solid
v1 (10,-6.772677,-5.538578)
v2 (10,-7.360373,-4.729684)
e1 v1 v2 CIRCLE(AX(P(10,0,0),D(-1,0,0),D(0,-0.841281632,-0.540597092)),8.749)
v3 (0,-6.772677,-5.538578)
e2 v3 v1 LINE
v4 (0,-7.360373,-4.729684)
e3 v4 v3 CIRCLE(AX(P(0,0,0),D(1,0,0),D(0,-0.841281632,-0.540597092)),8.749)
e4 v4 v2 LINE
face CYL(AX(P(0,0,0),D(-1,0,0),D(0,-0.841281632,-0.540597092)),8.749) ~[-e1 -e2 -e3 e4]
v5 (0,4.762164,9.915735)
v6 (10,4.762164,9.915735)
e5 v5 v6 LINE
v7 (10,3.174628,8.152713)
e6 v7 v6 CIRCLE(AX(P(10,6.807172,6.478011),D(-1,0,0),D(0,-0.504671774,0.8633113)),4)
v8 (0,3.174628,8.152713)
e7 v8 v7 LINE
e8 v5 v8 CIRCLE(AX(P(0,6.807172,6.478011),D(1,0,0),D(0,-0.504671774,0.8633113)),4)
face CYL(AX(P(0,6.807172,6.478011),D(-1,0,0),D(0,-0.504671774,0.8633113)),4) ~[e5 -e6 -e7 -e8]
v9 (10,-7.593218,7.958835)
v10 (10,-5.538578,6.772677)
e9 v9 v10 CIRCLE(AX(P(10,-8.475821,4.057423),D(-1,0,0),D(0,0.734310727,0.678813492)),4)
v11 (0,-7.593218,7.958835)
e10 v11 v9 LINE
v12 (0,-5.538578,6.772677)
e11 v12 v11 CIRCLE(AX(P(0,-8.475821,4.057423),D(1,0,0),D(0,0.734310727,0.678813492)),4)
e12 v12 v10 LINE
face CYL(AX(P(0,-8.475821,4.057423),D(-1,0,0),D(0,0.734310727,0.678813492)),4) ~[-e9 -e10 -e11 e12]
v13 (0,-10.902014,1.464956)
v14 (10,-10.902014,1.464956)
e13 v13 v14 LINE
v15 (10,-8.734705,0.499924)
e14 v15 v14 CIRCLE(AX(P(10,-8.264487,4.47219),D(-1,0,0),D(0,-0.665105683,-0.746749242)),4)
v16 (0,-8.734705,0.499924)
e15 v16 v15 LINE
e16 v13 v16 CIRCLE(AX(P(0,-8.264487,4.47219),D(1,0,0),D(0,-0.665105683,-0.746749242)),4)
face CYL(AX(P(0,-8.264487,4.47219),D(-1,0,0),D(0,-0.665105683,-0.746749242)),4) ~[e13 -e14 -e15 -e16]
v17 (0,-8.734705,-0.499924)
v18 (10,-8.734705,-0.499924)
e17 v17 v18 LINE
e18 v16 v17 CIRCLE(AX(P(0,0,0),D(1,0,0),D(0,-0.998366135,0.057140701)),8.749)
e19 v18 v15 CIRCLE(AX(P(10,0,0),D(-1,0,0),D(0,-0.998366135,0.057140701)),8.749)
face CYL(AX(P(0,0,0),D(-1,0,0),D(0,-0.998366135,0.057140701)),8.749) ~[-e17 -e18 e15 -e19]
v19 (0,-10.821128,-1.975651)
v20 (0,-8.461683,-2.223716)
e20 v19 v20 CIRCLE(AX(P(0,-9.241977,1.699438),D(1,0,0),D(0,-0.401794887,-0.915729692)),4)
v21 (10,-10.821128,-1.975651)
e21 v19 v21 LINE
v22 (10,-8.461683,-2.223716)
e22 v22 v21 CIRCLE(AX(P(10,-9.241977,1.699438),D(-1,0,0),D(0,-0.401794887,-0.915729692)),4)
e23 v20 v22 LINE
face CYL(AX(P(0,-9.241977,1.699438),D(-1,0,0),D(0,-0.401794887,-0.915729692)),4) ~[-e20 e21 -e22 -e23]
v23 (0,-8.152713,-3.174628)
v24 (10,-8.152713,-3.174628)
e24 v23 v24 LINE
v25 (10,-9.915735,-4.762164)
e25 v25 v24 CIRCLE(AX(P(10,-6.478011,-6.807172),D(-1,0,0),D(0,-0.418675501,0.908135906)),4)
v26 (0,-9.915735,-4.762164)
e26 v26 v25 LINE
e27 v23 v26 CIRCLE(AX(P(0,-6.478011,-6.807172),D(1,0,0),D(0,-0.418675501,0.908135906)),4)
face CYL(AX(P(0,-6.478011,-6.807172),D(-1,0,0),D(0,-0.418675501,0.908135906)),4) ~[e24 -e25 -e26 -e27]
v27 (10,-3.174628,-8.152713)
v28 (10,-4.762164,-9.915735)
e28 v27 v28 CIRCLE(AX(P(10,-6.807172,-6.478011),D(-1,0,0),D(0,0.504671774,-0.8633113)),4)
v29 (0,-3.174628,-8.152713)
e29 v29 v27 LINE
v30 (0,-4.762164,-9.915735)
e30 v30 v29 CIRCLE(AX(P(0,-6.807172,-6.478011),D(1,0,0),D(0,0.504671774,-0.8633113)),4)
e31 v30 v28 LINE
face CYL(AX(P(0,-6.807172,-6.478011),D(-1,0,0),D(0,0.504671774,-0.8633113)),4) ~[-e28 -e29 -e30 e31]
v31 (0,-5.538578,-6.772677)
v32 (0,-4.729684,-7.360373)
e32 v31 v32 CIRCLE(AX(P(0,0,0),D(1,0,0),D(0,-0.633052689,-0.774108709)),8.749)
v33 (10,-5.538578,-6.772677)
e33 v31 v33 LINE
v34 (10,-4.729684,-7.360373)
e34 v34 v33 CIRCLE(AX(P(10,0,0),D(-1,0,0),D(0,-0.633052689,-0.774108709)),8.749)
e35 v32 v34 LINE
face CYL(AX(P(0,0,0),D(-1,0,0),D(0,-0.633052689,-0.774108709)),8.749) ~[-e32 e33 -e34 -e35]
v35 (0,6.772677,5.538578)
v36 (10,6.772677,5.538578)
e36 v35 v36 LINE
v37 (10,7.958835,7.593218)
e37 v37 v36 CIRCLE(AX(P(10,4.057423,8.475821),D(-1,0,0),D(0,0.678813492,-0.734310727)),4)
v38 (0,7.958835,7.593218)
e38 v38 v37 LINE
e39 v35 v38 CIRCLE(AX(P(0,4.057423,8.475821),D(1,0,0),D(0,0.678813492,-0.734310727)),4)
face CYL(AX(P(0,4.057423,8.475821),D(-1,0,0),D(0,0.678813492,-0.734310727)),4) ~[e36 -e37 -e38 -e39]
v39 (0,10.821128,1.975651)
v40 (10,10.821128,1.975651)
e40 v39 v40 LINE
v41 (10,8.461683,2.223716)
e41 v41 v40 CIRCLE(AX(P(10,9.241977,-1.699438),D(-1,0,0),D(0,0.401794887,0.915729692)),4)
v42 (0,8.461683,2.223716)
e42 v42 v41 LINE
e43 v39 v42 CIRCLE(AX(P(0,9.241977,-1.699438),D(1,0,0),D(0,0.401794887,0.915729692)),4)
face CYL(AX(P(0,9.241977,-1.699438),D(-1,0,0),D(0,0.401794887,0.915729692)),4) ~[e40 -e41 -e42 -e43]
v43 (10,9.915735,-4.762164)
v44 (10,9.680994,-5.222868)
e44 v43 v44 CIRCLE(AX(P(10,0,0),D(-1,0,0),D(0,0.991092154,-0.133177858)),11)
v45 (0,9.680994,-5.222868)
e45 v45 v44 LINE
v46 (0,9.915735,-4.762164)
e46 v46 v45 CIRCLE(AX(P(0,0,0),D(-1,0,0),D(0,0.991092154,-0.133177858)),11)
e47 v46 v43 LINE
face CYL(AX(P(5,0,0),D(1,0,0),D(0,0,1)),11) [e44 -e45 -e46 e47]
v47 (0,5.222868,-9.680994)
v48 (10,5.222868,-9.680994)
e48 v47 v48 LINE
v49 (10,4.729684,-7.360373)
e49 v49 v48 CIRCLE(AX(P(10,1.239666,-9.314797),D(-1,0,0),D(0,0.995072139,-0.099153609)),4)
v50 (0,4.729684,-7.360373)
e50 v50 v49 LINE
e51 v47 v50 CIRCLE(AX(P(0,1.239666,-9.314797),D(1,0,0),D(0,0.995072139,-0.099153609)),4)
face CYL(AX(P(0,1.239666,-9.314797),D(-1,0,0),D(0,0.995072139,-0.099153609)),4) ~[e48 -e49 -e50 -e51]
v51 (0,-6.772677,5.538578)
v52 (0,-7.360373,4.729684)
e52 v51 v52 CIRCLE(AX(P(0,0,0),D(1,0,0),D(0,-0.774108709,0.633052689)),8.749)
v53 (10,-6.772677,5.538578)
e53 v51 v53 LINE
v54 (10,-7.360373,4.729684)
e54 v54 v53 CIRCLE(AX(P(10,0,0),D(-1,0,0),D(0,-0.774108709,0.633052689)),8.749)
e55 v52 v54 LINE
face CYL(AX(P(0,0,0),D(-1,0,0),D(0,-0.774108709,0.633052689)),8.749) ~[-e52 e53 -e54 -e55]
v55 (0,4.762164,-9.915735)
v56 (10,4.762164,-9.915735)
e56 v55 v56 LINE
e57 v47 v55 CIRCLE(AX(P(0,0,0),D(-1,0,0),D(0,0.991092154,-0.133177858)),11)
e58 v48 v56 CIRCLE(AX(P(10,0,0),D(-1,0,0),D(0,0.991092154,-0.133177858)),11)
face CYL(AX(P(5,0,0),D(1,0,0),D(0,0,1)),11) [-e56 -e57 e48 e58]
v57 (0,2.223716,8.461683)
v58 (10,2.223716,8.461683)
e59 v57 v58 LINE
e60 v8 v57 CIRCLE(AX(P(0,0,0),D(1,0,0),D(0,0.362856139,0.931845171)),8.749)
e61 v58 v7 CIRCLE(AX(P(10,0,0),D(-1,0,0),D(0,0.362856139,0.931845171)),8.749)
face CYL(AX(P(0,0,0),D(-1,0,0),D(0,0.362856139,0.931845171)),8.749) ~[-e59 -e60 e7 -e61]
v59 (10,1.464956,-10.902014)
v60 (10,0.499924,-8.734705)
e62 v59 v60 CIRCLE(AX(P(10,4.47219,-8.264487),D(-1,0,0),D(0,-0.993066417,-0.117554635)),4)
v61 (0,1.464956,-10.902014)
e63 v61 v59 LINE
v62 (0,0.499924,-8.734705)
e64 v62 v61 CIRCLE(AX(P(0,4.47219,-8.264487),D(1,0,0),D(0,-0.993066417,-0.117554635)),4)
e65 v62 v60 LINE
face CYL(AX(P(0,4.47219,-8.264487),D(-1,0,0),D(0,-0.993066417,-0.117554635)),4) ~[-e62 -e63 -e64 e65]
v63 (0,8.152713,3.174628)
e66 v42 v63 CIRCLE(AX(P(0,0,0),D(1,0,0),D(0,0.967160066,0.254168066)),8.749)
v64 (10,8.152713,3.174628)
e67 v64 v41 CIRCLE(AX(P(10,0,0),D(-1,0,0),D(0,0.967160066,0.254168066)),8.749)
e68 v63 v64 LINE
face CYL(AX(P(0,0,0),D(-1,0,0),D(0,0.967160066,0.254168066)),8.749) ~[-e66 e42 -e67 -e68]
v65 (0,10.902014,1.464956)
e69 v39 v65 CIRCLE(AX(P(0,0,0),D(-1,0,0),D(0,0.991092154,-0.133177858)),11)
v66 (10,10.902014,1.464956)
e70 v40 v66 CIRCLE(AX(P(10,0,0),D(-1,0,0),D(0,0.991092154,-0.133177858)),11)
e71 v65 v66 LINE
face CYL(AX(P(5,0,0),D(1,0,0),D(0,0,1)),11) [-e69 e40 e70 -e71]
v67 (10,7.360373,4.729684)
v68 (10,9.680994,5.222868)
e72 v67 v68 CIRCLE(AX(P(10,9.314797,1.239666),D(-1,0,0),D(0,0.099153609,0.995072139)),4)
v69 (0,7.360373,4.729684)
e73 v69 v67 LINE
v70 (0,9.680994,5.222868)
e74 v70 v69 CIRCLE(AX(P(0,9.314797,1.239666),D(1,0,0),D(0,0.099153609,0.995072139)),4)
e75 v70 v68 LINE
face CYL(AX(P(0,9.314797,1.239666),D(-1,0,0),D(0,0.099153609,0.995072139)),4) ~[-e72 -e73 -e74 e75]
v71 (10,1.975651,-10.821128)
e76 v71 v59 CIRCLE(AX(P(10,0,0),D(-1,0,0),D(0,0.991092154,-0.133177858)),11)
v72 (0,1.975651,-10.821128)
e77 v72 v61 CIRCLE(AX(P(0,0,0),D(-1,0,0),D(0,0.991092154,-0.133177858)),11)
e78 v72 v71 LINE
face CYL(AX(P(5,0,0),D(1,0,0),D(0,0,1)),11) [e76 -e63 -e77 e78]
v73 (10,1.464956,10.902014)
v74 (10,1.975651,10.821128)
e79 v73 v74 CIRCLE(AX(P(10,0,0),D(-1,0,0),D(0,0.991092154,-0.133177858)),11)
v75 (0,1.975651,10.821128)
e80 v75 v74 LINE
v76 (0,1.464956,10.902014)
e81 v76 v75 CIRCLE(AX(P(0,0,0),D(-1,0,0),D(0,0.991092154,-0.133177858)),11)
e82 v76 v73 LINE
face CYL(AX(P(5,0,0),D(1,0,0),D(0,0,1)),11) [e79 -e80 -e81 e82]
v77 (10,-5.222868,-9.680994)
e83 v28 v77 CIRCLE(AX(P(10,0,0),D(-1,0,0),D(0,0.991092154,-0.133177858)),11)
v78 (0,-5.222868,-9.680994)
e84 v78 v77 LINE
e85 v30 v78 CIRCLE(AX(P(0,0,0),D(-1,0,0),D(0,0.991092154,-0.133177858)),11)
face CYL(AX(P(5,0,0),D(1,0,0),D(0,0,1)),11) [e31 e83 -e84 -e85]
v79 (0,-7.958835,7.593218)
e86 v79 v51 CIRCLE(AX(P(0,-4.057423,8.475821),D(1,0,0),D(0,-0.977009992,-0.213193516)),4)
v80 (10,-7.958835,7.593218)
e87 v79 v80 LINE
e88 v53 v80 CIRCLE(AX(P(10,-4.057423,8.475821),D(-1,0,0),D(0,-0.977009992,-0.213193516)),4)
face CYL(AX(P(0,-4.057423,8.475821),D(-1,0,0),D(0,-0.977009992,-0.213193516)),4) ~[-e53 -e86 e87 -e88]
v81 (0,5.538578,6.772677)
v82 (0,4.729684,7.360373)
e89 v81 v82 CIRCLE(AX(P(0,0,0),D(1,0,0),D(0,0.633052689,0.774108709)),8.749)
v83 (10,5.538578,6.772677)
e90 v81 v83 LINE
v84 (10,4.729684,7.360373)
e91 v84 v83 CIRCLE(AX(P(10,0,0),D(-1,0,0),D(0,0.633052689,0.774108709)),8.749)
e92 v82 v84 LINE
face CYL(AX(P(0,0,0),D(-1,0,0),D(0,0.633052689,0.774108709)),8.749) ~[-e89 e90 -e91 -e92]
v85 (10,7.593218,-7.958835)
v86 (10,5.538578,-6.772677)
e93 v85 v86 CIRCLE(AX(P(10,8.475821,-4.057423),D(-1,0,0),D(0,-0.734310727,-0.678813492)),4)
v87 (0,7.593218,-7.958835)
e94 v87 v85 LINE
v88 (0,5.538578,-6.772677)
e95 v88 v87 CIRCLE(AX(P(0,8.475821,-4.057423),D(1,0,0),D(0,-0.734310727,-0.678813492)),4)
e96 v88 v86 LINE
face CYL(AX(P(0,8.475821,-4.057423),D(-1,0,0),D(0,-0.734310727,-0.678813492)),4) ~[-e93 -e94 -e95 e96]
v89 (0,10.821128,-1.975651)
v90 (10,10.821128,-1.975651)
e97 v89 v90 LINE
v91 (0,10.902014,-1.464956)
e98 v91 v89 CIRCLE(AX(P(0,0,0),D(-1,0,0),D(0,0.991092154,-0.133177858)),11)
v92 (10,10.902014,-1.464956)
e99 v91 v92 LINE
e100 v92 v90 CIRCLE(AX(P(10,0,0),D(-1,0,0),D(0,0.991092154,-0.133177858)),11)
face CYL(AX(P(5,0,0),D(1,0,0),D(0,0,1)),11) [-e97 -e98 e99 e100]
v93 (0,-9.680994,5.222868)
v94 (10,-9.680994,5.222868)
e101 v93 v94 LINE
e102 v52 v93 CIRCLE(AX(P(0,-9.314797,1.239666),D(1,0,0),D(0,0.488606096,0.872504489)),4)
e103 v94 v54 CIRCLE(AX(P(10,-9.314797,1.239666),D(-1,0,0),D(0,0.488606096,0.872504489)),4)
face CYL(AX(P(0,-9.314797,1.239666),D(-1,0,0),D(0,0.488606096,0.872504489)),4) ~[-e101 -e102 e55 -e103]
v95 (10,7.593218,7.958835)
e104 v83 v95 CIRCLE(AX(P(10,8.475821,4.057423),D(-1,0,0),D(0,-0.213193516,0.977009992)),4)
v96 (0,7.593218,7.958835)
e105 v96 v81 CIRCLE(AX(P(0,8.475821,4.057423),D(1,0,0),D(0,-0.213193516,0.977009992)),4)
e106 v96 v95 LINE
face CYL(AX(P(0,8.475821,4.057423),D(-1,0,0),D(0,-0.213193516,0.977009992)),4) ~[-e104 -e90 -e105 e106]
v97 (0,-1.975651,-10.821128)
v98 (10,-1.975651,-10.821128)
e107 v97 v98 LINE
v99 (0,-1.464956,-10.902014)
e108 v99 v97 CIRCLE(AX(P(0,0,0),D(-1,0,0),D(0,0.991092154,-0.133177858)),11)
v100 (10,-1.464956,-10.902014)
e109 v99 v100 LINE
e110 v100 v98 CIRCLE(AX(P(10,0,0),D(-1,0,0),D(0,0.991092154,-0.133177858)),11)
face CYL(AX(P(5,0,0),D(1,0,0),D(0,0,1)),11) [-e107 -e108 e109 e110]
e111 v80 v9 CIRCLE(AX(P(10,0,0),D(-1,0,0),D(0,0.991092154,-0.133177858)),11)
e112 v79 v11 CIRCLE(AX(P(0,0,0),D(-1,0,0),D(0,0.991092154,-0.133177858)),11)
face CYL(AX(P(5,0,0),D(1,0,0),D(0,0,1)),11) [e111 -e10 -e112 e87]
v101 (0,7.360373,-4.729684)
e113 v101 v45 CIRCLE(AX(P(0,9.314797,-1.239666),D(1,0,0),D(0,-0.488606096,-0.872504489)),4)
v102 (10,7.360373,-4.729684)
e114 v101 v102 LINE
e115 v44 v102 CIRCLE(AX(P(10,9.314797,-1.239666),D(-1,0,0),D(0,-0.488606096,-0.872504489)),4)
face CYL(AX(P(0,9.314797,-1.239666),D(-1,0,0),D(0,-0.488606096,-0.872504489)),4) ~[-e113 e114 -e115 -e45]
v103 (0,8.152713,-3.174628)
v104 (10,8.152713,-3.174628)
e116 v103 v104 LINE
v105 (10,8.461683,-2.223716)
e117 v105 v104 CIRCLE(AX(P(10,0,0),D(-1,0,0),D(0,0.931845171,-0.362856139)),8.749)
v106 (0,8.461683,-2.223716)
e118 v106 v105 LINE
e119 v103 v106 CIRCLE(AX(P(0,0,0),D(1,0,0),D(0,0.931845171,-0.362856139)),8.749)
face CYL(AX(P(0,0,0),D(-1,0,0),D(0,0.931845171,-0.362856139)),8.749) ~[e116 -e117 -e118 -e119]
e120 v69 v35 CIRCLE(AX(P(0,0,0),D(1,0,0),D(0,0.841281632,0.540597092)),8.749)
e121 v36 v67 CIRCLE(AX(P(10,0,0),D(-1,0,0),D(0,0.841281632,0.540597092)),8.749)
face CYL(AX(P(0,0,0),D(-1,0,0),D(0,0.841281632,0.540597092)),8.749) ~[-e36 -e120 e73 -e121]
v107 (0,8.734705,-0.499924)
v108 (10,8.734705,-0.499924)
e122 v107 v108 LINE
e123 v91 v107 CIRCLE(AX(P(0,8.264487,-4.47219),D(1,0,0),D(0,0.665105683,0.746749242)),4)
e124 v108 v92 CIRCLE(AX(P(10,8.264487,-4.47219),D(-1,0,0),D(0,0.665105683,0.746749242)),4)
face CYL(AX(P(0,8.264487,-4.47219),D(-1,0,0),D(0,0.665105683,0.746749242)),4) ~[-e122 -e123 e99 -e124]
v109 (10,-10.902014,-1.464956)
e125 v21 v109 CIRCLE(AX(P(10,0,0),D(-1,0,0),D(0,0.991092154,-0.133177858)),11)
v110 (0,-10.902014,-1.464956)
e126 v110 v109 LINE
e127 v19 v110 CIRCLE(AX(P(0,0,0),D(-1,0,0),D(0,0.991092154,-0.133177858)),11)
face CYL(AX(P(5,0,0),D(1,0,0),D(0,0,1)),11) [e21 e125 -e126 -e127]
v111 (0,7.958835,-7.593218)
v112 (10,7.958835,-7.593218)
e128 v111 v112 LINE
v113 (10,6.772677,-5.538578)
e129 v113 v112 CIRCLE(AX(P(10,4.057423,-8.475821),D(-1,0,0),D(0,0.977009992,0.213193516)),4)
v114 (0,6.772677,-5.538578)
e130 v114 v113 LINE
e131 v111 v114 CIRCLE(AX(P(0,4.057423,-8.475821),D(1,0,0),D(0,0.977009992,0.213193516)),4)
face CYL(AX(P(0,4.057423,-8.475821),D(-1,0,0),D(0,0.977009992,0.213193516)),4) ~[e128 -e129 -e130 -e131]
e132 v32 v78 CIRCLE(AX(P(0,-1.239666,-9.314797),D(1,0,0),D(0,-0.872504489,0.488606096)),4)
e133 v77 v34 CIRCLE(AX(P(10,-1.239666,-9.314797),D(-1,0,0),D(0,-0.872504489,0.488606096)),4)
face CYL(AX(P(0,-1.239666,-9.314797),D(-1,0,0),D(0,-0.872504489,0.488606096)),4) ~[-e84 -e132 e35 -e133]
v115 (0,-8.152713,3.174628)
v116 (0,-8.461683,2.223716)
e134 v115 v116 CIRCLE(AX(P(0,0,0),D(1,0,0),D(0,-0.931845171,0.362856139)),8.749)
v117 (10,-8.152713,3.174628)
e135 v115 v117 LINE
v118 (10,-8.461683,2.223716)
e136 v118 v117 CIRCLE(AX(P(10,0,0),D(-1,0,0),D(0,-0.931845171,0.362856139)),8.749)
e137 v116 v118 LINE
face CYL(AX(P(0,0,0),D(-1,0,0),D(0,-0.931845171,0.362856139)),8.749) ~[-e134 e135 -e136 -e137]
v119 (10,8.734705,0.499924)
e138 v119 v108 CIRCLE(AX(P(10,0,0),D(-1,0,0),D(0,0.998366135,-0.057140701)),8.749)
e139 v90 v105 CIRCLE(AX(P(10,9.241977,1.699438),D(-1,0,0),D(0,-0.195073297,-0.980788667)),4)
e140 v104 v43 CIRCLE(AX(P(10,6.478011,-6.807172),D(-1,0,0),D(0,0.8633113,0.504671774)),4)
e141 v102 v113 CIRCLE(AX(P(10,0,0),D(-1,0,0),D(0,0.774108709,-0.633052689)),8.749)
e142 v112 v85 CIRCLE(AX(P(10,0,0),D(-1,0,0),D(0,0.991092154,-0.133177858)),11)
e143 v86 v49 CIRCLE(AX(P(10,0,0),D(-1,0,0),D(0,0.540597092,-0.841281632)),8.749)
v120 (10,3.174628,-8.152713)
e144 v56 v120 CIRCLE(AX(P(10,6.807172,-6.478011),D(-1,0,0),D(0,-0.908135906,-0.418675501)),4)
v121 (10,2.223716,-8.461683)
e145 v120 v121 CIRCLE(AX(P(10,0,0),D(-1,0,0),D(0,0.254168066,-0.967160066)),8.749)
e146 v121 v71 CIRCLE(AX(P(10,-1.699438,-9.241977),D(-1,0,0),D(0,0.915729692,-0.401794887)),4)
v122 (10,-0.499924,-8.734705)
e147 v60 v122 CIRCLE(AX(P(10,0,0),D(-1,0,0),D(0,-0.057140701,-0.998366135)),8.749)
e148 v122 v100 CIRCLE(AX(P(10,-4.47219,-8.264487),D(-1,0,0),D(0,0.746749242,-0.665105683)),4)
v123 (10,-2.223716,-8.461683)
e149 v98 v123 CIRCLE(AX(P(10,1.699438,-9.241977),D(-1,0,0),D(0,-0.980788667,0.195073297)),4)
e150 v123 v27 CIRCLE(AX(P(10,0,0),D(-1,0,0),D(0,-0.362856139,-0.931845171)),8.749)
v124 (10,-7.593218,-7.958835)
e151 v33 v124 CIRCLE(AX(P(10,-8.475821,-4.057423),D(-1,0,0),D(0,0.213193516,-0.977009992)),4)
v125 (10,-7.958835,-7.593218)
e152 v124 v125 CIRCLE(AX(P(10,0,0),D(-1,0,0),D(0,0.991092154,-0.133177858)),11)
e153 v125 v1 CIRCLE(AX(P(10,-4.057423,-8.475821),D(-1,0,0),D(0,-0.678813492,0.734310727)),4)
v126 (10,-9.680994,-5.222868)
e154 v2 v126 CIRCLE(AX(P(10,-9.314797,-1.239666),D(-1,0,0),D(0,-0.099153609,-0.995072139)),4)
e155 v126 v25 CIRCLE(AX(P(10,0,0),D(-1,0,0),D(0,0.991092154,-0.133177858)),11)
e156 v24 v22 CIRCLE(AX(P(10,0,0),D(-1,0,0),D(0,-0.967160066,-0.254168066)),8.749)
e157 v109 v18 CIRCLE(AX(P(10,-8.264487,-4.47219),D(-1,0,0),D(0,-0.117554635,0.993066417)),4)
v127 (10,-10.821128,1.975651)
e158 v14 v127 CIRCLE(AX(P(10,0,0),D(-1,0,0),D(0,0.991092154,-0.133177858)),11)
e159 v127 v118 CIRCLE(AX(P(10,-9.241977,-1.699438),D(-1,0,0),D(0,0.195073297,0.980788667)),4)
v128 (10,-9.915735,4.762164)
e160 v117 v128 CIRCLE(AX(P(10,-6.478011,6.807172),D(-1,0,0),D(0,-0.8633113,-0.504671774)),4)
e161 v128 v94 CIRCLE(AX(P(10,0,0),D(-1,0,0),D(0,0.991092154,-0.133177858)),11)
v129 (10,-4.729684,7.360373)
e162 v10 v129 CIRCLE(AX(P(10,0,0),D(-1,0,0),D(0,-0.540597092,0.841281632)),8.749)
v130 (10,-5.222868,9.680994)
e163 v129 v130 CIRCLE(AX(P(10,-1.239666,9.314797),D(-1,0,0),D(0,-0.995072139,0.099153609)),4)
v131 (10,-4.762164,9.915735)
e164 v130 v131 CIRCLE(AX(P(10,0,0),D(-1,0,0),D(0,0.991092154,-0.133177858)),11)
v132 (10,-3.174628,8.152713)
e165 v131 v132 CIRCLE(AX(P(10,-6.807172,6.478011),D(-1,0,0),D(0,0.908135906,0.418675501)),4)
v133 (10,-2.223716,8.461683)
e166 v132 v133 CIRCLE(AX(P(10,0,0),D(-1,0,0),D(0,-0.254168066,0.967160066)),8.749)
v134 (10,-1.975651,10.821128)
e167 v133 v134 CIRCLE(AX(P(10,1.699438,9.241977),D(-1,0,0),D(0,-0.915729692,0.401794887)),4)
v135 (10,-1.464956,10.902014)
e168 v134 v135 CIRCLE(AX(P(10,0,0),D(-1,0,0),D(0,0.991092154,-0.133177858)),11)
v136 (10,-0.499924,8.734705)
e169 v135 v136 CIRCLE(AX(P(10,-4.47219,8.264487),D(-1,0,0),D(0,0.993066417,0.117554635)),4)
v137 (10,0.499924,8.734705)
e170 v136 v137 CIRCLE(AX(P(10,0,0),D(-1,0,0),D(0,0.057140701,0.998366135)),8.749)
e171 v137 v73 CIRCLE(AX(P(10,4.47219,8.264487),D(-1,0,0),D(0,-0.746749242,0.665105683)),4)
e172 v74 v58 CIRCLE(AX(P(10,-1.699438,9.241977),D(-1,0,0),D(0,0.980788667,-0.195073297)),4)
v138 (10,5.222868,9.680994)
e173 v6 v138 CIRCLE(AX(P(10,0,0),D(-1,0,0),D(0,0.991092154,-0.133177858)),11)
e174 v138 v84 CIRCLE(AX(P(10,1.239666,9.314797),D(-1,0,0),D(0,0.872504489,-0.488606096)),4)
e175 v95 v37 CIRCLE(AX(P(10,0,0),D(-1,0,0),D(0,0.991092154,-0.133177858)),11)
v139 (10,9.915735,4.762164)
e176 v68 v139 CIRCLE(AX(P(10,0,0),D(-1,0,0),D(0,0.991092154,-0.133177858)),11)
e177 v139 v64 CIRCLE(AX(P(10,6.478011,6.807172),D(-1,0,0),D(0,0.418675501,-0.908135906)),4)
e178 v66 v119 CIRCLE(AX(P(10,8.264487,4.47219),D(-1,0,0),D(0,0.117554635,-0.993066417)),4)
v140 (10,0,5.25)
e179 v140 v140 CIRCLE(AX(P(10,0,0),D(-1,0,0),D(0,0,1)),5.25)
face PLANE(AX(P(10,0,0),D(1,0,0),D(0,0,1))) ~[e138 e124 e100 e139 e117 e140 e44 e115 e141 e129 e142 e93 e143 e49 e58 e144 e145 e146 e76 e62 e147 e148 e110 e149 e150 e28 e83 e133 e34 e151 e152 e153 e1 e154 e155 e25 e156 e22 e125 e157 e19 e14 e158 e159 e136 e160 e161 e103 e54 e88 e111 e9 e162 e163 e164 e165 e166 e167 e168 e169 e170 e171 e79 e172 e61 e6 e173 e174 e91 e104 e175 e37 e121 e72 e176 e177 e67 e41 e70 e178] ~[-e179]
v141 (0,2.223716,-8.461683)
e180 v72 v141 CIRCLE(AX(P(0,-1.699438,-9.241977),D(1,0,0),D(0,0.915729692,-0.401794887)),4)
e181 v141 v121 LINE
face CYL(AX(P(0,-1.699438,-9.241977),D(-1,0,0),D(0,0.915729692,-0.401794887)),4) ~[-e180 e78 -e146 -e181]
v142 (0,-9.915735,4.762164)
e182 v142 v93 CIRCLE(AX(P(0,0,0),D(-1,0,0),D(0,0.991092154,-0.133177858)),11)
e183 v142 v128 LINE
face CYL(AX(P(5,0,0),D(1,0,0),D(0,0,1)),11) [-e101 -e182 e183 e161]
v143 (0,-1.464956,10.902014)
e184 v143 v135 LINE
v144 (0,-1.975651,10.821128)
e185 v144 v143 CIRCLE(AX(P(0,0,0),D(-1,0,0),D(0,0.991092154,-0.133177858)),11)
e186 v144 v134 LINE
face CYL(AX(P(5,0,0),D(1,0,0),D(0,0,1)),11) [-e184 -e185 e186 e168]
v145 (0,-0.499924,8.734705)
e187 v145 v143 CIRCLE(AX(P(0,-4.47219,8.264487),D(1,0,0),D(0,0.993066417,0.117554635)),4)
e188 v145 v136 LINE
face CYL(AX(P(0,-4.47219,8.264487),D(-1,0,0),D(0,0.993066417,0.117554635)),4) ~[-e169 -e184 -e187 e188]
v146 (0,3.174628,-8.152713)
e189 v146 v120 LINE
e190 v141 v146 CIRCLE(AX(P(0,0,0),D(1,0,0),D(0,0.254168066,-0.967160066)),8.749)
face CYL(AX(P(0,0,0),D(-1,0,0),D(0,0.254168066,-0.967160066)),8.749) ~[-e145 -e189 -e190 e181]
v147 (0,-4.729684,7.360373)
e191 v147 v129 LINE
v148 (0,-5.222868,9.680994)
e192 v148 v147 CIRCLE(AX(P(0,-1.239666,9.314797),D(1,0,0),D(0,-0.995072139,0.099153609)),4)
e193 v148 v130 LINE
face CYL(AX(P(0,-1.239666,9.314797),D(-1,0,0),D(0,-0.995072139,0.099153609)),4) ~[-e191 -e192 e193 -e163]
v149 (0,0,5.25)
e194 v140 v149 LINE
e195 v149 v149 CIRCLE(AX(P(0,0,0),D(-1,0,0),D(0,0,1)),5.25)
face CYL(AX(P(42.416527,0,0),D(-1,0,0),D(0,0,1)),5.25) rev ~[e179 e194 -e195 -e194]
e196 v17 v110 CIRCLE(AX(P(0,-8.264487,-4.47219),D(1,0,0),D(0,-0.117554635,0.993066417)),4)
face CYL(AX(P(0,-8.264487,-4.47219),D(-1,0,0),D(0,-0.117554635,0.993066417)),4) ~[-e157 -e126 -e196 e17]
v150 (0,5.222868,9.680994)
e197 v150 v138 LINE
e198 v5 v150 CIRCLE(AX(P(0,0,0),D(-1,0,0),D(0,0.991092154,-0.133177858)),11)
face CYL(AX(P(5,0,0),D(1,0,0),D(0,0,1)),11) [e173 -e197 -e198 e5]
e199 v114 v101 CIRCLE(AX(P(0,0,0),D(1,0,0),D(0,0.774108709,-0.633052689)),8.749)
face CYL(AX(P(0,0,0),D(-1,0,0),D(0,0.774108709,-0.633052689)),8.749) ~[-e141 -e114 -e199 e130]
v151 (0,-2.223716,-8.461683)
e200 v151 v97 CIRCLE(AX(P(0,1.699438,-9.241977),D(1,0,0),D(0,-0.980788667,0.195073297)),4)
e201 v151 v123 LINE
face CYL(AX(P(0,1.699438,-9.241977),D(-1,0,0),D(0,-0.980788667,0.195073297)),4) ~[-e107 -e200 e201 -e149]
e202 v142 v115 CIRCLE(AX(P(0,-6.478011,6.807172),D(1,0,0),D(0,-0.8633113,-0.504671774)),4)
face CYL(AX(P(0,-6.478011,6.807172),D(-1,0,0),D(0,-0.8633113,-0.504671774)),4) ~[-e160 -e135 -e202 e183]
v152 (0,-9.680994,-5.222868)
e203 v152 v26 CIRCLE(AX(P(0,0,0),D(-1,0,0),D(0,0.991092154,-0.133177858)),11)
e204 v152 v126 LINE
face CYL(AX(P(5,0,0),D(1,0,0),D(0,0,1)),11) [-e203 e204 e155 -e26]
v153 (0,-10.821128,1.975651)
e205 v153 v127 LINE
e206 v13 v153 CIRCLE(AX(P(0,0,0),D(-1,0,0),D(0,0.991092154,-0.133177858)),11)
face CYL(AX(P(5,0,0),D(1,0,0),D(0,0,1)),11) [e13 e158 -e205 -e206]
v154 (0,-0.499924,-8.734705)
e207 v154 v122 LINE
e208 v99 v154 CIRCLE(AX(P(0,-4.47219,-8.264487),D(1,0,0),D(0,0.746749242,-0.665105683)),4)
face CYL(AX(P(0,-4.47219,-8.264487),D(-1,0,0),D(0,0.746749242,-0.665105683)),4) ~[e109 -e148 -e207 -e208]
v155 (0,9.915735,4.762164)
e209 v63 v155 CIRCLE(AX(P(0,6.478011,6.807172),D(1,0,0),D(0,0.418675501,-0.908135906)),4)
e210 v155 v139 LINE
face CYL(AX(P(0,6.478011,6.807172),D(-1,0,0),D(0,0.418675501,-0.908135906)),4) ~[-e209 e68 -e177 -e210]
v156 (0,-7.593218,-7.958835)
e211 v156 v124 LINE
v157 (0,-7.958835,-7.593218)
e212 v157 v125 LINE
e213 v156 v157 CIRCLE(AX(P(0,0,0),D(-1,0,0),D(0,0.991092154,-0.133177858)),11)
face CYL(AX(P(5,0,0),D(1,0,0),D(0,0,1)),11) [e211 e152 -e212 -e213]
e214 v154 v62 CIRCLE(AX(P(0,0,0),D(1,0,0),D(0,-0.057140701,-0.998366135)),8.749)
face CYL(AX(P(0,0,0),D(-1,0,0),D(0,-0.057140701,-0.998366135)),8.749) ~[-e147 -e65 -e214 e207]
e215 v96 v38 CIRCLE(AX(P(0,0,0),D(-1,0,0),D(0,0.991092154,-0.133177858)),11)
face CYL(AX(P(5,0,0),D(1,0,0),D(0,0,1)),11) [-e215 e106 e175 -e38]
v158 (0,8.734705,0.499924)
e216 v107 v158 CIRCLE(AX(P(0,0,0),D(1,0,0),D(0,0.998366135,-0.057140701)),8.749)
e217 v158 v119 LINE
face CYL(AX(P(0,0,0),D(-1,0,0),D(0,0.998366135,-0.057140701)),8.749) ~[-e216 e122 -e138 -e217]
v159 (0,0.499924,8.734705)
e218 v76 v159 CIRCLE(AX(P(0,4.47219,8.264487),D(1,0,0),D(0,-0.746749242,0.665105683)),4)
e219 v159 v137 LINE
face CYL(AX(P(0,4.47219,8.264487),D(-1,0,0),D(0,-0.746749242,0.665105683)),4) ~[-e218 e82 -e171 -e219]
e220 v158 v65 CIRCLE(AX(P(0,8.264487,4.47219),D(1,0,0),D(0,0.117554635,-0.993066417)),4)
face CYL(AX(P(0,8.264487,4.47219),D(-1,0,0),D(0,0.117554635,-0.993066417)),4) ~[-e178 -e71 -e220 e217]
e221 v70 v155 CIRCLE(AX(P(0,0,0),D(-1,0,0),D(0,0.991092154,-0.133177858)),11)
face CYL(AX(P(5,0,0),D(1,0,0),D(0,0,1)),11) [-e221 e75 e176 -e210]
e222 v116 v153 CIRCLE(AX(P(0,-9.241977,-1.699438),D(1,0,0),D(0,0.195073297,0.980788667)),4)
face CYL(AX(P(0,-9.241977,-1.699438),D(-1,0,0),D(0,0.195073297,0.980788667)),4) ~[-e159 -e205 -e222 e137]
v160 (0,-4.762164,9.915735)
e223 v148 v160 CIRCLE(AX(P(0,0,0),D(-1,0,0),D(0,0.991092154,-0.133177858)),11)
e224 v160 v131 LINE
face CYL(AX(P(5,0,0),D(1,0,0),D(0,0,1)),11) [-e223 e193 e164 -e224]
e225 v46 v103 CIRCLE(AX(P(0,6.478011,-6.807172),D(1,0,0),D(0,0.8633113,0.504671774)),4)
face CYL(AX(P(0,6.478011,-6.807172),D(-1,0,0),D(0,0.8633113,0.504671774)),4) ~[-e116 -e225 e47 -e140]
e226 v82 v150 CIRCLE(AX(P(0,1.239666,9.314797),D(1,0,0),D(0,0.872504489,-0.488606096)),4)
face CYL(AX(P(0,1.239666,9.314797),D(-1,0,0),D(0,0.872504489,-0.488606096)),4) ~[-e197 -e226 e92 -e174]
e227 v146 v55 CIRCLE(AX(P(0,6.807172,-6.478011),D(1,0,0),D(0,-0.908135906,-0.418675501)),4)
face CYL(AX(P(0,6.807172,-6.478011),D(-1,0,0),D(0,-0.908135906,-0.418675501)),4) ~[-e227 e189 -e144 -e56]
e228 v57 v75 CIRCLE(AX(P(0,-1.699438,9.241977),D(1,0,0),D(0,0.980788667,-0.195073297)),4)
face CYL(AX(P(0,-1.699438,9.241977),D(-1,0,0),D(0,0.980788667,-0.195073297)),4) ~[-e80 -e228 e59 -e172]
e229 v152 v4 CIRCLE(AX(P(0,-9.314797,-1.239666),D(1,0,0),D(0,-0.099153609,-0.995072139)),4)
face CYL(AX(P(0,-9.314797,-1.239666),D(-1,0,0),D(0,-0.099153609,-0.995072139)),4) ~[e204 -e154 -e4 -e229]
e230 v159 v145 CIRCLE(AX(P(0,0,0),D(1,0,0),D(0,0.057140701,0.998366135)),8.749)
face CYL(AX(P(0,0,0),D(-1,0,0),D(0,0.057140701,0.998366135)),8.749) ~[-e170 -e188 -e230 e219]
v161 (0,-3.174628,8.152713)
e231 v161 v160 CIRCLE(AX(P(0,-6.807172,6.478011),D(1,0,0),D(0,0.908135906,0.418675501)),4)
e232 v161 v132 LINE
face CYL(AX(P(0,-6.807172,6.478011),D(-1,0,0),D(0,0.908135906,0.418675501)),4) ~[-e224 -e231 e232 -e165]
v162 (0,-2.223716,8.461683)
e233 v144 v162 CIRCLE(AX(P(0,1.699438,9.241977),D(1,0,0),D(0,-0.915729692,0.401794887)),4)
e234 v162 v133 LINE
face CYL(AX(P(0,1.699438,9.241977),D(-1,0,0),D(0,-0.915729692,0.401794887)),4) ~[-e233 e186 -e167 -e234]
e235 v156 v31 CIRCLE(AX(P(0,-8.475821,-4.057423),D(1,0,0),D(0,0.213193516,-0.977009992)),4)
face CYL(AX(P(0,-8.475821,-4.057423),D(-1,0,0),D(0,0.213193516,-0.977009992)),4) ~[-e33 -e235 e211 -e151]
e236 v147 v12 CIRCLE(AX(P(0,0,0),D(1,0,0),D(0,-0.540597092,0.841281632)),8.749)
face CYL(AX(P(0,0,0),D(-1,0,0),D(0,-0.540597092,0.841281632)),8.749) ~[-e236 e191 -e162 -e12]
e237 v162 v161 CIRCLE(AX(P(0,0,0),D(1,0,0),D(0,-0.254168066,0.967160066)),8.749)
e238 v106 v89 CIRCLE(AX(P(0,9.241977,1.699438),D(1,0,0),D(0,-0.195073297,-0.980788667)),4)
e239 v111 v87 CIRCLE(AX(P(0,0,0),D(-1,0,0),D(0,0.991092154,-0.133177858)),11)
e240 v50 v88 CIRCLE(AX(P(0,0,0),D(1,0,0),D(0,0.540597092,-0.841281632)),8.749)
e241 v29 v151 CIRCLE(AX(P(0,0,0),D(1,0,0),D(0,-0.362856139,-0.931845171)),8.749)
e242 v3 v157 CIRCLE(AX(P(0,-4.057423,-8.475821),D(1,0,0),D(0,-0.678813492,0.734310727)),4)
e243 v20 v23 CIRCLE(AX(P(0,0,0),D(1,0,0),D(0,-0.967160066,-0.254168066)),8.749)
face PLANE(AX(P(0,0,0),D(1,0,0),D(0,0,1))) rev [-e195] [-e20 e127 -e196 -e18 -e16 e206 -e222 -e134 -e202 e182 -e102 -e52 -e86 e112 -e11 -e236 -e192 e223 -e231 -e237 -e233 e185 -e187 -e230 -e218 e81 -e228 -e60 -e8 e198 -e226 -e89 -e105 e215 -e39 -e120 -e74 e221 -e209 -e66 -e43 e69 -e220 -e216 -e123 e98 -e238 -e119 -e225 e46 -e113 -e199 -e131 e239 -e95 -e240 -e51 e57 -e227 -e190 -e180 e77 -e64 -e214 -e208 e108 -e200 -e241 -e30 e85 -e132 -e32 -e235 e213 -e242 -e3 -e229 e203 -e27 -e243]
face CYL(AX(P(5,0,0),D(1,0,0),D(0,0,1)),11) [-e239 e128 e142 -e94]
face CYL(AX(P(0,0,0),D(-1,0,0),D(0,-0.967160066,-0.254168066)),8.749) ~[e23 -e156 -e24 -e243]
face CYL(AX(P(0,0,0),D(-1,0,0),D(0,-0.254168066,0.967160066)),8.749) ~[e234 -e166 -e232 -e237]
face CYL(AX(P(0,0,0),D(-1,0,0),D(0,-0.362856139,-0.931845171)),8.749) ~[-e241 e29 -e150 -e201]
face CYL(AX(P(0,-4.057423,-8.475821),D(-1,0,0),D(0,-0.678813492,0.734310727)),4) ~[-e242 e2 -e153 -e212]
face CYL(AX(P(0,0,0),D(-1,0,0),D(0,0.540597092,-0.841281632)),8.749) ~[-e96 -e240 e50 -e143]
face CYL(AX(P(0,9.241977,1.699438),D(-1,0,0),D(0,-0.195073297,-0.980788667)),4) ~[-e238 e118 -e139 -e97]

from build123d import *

# Parameters (mm, degrees)
BASPROSKE_W                   = 10
BASPROSKE_H                   = 11
TOOTHCUT_DEPTH                = 19.493242009
TEETHCUTS_COUNT               = 20
TEETHCUTS_ANGLE               = 342
BORSKE_R                      = 0.4
BORE_DEPTH                    = 50.0000508
TALADRO_DE_MARGEN_PARA_M101_D = 10.5


with BuildPart() as part:
    # BasProSke → Base-Revolve (revolve)
    with BuildSketch(Plane(origin=(0, 0, 0), x_dir=(1, 0, 0), z_dir=(0, 1, 0)), mode=Mode.PRIVATE) as base_revolve_sk:
        with Locations((5, 5.5)):
            Rectangle(BASPROSKE_W, BASPROSKE_H)
    revolve(base_revolve_sk.sketch.rotate(Axis((-10, 0, 0), (1, 0, 0)), 180), axis=Axis((-10, 0, 0), (1, 0, 0)))

    # TooCutSke → ToothCut (cut, through all)
    with BuildSketch(Plane(origin=(0, 0, 0), x_dir=(0, 0, -1), z_dir=(1, 0, 0))):
        with BuildLine():
            ThreePointArc((0.499924007, 8.734705318), (0, 8.749), (-0.499924007, 8.734705318))
            ThreePointArc((-0.499924007, 8.734705318), (-0.824302243, 9.905497836), (-1.485192705, 10.924909509))
            ThreePointArc((-1.485192705, 10.924909509), (0, 11.0254), (1.485192705, 10.924909509))
            ThreePointArc((1.485192705, 10.924909509), (0.824302243, 9.905497836), (0.499924007, 8.734705318))
        make_face()
    toothcut = extrude(amount=TOOTHCUT_DEPTH, mode=Mode.SUBTRACT)

    # TeethCuts: ToothCut ×20 about axis
    teethcuts_axis = Axis((-10, 0, 0), (1, 0, 0))
    for i in range(1, TEETHCUTS_COUNT):
        add(toothcut.rotate(teethcuts_axis, i * TEETHCUTS_ANGLE / (TEETHCUTS_COUNT - 1)), mode=Mode.SUBTRACT)

    # BorSke → Bore (cut, symmetric)
    with BuildSketch(Plane(origin=(0, 0, 0), x_dir=(0, 0, -1), z_dir=(1, 0, 0))):
        with Locations(Location((0, 0, 0), (0, 0, 180))):
            Circle(BORSKE_R)
    extrude(amount=BORE_DEPTH, both=True, mode=Mode.SUBTRACT)

    # Taladro de margen para M101 (through all)
    with Locations(Plane(origin=(10, 0, 0), x_dir=(0, 0, -1), z_dir=(1, 0, 0))):
        with Locations((0, 0)):
            Hole(TALADRO_DE_MARGEN_PARA_M101_D / 2)


solid = part.part
